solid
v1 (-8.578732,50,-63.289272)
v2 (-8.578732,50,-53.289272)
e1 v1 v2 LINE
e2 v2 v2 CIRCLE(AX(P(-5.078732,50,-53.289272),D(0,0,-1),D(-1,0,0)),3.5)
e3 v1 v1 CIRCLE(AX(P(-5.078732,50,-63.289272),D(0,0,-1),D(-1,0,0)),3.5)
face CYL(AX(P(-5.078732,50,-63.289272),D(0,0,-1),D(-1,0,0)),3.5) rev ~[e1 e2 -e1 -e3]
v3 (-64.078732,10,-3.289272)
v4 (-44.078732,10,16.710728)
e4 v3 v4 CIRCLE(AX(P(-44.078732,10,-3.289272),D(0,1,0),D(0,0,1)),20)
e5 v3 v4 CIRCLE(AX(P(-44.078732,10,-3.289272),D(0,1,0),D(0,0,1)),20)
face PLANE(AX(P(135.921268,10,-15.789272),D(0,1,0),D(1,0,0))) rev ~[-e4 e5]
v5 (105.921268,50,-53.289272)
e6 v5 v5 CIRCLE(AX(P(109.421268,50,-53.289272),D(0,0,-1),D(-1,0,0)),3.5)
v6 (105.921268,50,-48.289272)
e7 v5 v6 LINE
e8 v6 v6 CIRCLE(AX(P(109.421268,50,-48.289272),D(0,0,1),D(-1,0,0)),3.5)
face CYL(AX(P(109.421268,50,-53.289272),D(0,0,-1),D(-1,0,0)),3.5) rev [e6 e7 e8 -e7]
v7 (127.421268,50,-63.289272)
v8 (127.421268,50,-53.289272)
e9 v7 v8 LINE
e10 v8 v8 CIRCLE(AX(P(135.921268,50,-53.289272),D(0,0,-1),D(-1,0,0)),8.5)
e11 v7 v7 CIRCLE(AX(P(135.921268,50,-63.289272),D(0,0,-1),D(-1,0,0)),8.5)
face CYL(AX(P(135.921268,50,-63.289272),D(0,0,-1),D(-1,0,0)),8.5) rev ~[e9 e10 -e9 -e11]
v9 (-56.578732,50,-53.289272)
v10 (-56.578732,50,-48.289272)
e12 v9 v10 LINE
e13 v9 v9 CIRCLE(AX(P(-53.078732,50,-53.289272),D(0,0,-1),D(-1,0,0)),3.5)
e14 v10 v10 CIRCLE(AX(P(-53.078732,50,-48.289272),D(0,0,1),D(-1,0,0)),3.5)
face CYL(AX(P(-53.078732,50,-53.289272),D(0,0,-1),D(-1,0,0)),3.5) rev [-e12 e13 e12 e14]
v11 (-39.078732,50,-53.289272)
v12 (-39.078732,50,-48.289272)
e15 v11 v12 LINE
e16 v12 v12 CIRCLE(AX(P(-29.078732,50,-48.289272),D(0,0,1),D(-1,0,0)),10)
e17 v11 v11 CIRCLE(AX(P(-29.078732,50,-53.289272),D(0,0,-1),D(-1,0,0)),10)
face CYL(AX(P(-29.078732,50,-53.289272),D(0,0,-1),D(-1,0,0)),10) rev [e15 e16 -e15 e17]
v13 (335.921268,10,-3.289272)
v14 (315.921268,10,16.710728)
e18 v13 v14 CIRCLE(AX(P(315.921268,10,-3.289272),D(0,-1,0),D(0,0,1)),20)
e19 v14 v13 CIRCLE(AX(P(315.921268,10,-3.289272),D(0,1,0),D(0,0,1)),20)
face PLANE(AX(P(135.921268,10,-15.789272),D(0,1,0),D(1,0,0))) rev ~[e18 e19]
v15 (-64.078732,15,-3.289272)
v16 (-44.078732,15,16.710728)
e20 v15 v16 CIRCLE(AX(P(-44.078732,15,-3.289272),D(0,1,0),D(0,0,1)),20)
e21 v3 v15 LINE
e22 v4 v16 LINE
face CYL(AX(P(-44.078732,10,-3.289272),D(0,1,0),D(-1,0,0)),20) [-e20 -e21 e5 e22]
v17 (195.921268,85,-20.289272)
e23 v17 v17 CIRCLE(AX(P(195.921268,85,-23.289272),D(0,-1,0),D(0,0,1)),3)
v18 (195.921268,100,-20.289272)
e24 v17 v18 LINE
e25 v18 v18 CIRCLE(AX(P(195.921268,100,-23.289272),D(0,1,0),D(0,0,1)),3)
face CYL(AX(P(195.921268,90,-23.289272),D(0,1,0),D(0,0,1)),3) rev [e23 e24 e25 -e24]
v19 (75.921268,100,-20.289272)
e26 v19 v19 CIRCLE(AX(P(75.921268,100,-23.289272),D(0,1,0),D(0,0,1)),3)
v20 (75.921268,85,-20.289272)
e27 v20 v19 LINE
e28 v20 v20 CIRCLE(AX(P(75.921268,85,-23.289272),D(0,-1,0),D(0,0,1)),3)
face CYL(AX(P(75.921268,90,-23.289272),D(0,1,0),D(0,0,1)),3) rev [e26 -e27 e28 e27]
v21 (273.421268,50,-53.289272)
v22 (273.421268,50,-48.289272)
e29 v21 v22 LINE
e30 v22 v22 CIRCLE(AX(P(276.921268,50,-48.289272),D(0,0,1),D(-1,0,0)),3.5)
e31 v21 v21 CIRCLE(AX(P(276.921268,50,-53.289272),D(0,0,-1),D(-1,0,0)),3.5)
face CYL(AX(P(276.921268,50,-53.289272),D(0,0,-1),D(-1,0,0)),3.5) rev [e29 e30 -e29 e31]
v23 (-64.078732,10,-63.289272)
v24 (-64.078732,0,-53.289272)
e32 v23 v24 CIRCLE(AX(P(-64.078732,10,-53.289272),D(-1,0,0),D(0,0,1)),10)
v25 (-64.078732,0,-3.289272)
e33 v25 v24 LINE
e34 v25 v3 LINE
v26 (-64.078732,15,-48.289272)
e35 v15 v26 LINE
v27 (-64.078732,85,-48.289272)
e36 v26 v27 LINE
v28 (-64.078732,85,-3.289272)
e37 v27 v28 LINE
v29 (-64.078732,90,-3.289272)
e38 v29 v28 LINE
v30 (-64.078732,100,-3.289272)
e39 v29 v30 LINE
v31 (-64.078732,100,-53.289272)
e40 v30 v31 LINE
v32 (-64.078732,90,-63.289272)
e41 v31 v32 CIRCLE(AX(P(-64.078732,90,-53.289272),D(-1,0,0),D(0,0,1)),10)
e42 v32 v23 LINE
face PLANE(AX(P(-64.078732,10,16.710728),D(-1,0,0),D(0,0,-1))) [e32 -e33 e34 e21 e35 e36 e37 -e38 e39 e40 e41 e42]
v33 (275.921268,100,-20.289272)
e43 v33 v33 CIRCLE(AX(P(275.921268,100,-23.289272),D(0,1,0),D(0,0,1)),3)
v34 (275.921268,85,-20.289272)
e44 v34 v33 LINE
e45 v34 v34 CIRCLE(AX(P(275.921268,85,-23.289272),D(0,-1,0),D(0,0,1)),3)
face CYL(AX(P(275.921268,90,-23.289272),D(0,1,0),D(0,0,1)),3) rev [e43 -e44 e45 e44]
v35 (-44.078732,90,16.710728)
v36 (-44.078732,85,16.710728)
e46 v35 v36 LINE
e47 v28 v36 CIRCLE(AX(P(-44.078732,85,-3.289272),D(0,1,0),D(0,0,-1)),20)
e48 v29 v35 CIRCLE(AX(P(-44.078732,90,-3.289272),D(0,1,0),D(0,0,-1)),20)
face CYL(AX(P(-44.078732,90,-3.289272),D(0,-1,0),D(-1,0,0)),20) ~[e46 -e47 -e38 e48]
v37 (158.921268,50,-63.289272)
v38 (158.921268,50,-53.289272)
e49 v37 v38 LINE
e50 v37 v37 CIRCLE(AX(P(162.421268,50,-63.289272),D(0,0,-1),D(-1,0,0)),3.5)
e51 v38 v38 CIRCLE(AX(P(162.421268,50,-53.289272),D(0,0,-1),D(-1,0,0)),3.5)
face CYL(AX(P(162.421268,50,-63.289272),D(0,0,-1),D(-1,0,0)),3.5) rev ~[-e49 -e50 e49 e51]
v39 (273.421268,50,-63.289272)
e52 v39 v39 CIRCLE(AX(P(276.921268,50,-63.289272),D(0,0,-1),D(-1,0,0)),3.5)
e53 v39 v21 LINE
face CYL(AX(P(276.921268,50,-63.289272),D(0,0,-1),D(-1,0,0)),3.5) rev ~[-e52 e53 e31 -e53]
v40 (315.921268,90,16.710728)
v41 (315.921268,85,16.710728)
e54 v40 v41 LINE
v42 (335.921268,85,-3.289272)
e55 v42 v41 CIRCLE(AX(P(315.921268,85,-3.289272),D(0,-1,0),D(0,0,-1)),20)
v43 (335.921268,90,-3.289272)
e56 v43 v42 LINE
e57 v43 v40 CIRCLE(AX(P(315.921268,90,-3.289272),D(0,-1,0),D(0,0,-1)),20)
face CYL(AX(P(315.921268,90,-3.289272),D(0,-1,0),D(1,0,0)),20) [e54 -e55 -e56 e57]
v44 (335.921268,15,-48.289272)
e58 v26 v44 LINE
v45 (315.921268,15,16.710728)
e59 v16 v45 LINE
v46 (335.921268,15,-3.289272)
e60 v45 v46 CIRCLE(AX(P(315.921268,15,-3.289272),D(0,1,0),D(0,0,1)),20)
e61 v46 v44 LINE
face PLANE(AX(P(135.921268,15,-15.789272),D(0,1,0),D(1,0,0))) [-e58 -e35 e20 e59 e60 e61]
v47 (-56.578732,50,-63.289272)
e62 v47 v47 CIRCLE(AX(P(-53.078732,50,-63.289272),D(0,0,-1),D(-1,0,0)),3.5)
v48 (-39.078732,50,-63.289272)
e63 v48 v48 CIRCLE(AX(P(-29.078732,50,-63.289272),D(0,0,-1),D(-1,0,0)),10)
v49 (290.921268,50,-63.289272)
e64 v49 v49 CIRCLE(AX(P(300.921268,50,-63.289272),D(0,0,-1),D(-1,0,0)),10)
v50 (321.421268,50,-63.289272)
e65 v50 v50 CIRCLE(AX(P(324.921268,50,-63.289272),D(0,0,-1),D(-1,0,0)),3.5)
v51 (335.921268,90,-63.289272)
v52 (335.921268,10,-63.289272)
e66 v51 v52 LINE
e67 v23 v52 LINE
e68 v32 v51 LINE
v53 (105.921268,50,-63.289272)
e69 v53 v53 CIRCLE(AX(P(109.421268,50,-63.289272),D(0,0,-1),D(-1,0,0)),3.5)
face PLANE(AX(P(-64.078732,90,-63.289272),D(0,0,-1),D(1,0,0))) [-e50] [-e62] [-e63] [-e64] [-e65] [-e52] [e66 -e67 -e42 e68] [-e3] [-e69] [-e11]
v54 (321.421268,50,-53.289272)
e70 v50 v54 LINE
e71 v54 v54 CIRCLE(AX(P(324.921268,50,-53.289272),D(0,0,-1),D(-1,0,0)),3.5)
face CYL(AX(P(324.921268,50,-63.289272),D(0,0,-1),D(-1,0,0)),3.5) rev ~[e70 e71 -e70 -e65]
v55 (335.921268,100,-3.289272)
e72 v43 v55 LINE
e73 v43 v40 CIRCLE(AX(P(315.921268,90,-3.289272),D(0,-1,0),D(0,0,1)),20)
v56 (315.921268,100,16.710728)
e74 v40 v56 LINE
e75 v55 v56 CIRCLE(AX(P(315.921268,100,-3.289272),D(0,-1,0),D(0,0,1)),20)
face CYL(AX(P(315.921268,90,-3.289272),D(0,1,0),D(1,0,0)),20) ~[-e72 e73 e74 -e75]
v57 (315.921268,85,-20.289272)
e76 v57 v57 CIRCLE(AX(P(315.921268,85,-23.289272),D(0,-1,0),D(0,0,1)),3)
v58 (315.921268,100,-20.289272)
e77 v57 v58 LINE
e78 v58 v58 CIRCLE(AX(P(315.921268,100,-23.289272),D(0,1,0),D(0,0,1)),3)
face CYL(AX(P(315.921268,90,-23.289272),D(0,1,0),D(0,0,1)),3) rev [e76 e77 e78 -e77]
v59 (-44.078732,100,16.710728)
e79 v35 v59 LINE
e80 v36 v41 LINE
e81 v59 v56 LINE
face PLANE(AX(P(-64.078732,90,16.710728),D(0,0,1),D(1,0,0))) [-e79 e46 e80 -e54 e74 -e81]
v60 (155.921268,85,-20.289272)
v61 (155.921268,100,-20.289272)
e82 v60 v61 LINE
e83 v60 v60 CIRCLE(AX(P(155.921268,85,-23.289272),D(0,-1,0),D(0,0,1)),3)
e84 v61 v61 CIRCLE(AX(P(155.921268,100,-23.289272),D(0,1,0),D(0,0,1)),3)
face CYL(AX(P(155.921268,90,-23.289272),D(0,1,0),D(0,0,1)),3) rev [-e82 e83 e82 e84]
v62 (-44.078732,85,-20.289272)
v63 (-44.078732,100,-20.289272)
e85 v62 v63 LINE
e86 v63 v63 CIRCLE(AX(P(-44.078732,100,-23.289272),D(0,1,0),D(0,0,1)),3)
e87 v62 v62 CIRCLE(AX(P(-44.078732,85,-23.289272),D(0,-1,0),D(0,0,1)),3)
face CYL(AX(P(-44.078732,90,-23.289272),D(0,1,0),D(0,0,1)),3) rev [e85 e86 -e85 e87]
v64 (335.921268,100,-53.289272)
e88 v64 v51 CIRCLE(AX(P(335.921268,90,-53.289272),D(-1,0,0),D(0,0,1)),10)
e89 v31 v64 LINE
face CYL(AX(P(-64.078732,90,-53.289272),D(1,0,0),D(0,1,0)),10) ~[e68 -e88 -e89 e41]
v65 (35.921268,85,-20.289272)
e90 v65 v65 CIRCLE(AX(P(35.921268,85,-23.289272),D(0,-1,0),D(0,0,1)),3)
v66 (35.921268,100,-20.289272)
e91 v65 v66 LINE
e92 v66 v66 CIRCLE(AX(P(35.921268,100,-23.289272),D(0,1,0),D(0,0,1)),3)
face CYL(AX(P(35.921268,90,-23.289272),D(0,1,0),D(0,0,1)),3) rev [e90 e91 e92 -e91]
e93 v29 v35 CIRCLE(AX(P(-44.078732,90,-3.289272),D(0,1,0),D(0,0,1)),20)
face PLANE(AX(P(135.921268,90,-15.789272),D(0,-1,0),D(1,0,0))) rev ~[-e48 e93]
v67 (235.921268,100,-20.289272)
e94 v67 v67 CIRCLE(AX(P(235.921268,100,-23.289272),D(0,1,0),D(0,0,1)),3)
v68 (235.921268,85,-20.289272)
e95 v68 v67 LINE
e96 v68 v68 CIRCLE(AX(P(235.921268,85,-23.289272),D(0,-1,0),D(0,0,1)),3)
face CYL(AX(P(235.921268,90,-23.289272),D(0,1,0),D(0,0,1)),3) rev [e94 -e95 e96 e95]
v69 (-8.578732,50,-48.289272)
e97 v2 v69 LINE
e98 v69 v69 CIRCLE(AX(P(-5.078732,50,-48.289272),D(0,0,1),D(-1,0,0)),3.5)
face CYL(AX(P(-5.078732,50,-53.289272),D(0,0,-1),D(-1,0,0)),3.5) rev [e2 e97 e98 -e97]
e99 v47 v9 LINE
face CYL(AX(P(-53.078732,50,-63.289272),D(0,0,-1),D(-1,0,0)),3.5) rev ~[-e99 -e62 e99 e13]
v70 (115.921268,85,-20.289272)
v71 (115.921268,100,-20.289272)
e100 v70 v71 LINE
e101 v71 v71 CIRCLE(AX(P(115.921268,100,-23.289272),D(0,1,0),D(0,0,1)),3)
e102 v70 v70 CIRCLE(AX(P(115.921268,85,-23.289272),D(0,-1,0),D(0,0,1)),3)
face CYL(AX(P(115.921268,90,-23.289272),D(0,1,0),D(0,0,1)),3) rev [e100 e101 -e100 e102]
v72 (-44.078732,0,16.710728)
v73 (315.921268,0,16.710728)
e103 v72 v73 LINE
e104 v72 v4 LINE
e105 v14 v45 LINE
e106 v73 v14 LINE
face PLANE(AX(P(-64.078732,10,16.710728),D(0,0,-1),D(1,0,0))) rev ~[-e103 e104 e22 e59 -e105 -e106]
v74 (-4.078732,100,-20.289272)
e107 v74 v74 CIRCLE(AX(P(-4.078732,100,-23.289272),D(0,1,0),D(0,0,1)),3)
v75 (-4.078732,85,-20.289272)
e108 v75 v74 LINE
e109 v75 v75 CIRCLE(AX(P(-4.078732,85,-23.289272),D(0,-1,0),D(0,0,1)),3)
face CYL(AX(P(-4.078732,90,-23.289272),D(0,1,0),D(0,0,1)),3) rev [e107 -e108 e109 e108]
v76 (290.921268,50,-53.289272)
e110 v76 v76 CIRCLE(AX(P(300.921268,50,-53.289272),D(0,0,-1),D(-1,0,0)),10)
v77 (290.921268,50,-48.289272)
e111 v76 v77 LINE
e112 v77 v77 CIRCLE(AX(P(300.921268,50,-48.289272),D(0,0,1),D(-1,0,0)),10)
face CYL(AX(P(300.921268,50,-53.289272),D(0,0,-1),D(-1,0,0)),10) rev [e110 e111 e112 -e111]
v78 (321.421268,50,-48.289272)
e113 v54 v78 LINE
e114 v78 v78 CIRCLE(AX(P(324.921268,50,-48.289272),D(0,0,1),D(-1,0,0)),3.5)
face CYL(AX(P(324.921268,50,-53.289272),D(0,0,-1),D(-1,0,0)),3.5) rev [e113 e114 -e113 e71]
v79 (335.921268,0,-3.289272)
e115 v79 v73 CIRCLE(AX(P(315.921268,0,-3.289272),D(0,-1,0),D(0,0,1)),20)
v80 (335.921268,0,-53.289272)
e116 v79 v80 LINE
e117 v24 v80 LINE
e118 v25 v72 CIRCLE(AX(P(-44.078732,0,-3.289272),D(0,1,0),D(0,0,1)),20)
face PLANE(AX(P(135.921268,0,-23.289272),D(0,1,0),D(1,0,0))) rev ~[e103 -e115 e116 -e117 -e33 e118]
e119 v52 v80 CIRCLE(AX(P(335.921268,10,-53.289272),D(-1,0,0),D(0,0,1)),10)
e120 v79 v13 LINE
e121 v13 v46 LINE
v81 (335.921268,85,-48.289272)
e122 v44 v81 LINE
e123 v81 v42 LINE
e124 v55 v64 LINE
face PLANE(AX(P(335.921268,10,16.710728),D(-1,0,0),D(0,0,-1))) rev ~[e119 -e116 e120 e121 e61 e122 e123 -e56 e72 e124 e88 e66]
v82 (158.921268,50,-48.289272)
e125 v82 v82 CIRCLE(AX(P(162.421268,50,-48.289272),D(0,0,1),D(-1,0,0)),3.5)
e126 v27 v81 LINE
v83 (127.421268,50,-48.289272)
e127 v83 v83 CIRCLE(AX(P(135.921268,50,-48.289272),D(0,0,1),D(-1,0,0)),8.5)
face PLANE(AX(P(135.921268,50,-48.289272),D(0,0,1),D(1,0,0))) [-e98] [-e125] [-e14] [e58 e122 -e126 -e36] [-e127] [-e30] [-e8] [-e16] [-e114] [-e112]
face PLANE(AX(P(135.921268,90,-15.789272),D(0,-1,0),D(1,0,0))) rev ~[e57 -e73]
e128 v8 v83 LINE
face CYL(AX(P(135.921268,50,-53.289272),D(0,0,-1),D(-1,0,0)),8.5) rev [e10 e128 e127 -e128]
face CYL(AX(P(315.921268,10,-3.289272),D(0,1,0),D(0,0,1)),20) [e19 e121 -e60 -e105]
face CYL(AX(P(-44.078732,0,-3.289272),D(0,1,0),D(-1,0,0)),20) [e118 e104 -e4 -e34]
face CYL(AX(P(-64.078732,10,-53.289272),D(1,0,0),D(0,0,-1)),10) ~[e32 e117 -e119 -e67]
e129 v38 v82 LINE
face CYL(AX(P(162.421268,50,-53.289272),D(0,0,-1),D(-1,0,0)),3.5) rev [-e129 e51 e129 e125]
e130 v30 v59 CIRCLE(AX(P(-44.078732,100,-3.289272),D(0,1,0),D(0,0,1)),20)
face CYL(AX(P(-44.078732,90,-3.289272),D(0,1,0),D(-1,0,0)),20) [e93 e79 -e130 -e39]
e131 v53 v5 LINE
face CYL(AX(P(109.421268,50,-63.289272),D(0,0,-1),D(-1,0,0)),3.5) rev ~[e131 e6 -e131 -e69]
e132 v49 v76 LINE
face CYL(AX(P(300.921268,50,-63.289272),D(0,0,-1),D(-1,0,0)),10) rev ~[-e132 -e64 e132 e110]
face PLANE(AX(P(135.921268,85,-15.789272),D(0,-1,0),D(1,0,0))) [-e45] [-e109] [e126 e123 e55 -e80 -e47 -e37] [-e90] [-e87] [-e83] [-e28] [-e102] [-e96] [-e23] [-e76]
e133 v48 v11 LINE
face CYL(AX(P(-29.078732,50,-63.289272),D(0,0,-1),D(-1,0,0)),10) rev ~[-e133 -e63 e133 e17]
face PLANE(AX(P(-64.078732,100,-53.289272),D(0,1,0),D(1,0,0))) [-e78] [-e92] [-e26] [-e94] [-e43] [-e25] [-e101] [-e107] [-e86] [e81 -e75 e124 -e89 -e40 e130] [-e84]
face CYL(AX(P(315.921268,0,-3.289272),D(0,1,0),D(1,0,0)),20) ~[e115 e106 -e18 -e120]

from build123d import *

# Parameters (mm, degrees)
SKETCH1_W           = 400
SKETCH1_H           = 80
BOSS_EXTRUDE1_DEPTH = 10
SKETCH2_W           = 400
SKETCH2_H           = 10
BOSS_EXTRUDE2_DEPTH = 80
SKETCH3_W           = 400
SKETCH3_H           = 10
BOSS_EXTRUDE3_DEPTH = 10
SKETCH4_W           = 400
SKETCH4_H           = 10
BOSS_EXTRUDE4_DEPTH = 70
FILLET1_R           = 20
FILLET2_R           = 10
SKETCH7_R           = 8.5
SKETCH7_R_2         = 3.5
SKETCH7_R_3         = 10
CUT_EXTRUDE1_DEPTH  = 10
CUT_EXTRUDE2_REACH  = 358.158
SKETCH8_R           = 3
SKETCH9_W           = 400
SKETCH9_H           = 80
SKETCH9_R           = 10
SKETCH9_R_2         = 3.5
SKETCH9_R_3         = 8.5
BOSS_EXTRUDE5_DEPTH = 5
SKETCH10_W          = 400
SKETCH10_H          = 65
SKETCH10_R          = 3
BOSS_EXTRUDE6_DEPTH = 5
SKETCH11_W          = 400
SKETCH11_H          = 65
BOSS_EXTRUDE7_DEPTH = 5
FILLET3_R           = 20


with BuildPart() as part:
    # Sketch1 → Boss-Extrude1 (new body)
    with BuildSketch(Plane(origin=(0, 0, 0), x_dir=(1, 0, 0), z_dir=(0, 1, 0))):
        with Locations((135.921268108, 23.289271879)):
            Rectangle(SKETCH1_W, SKETCH1_H)
    extrude(amount=BOSS_EXTRUDE1_DEPTH)

    # Sketch2 → Boss-Extrude2 (add)
    with BuildSketch(Plane(origin=(0, 10, 0), x_dir=(1, 0, 0), z_dir=(0, 1, 0))):
        with Locations((135.921268108, 58.289271879)):
            Rectangle(SKETCH2_W, SKETCH2_H)
    extrude(amount=BOSS_EXTRUDE2_DEPTH)

    # Sketch3 → Boss-Extrude3 (add)
    with BuildSketch(Plane(origin=(0, 90, 0), x_dir=(1, 0, 0), z_dir=(0, 1, 0))):
        with Locations((135.921268108, 58.289271879)):
            Rectangle(SKETCH3_W, SKETCH3_H)
    extrude(amount=BOSS_EXTRUDE3_DEPTH)

    # Sketch4 → Boss-Extrude4 (add)
    with BuildSketch(Plane.XY.offset(-53.289271879)):
        with Locations((135.921268108, 95)):
            Rectangle(SKETCH4_W, SKETCH4_H)
    extrude(amount=BOSS_EXTRUDE4_DEPTH)

    # Fillet1
    fillet1_edges = [part.edges().sort_by_distance(p)[0] for p in [
        (-64.078731892, 95, 16.710728121),
        (335.921268108, 95, 16.710728121),
        (-64.078731892, 5, 16.710728121),
        (335.921268108, 5, 16.710728121),
    ]]
    fillet(fillet1_edges, radius=FILLET1_R)

    # Fillet2
    fillet2_edges = [part.edges().sort_by_distance(p)[0] for p in [
        (135.921268108, 100, -63.289271879),
        (135.921268108, 0, -63.289271879),
    ]]
    fillet(fillet2_edges, radius=FILLET2_R)

    # Sketch7 → Cut-Extrude1 (cut)
    with BuildSketch(Plane(origin=(0, 0, -63.289271879), x_dir=(-1, 0, 0), z_dir=(0, 0, -1))):
        with Locations((-135.921268108, 50)):
            Circle(SKETCH7_R)
        with Locations((-109.421268108, 50)):
            Circle(SKETCH7_R_2)
        with Locations((-162.421268108, 50)):
            Circle(SKETCH7_R_2)
        with Locations((-324.921268108, 50)):
            Circle(SKETCH7_R_2)
        with Locations((-300.921268108, 50)):
            Circle(SKETCH7_R_3)
        with Locations((-276.921268108, 50)):
            Circle(SKETCH7_R_2)
        with Locations((53.078731892, 50)):
            Circle(SKETCH7_R_2)
        with Locations((29.078731892, 50)):
            Circle(SKETCH7_R_3)
        with Locations((5.078731892, 50)):
            Circle(SKETCH7_R_2)
    extrude(amount=-CUT_EXTRUDE1_DEPTH, mode=Mode.SUBTRACT)

    # Sketch8 → Cut-Extrude2 (cut, up to next)
    with BuildSketch(Plane(origin=(0, 100, 0), x_dir=(1, 0, 0), z_dir=(0, 1, 0)), mode=Mode.PRIVATE) as cut_extrude2_sk1:
        with Locations(Location((-44.078731892, 23.289271879, 0), (0, 0, 270))):
            Circle(SKETCH8_R)
    cut_extrude2_tool1 = extrude(cut_extrude2_sk1.sketch, amount=-CUT_EXTRUDE2_REACH, mode=Mode.PRIVATE) & part.part
    # Sketch8 → Cut-Extrude2 (cut, up to next)
    with BuildSketch(Plane(origin=(0, 100, 0), x_dir=(1, 0, 0), z_dir=(0, 1, 0)), mode=Mode.PRIVATE) as cut_extrude2_sk2:
        with Locations(Location((-4.078731892, 23.289271879, 0), (0, 0, 270))):
            Circle(SKETCH8_R)
    cut_extrude2_tool2 = extrude(cut_extrude2_sk2.sketch, amount=-CUT_EXTRUDE2_REACH, mode=Mode.PRIVATE) & part.part
    # Sketch8 → Cut-Extrude2 (cut, up to next)
    with BuildSketch(Plane(origin=(0, 100, 0), x_dir=(1, 0, 0), z_dir=(0, 1, 0)), mode=Mode.PRIVATE) as cut_extrude2_sk3:
        with Locations(Location((35.921268108, 23.289271879, 0), (0, 0, 270))):
            Circle(SKETCH8_R)
    cut_extrude2_tool3 = extrude(cut_extrude2_sk3.sketch, amount=-CUT_EXTRUDE2_REACH, mode=Mode.PRIVATE) & part.part
    # Sketch8 → Cut-Extrude2 (cut, up to next)
    with BuildSketch(Plane(origin=(0, 100, 0), x_dir=(1, 0, 0), z_dir=(0, 1, 0)), mode=Mode.PRIVATE) as cut_extrude2_sk4:
        with Locations(Location((75.921268108, 23.289271879, 0), (0, 0, 270))):
            Circle(SKETCH8_R)
    cut_extrude2_tool4 = extrude(cut_extrude2_sk4.sketch, amount=-CUT_EXTRUDE2_REACH, mode=Mode.PRIVATE) & part.part
    # Sketch8 → Cut-Extrude2 (cut, up to next)
    with BuildSketch(Plane(origin=(0, 100, 0), x_dir=(1, 0, 0), z_dir=(0, 1, 0)), mode=Mode.PRIVATE) as cut_extrude2_sk5:
        with Locations(Location((115.921268108, 23.289271879, 0), (0, 0, 270))):
            Circle(SKETCH8_R)
    cut_extrude2_tool5 = extrude(cut_extrude2_sk5.sketch, amount=-CUT_EXTRUDE2_REACH, mode=Mode.PRIVATE) & part.part
    # Sketch8 → Cut-Extrude2 (cut, up to next)
    with BuildSketch(Plane(origin=(0, 100, 0), x_dir=(1, 0, 0), z_dir=(0, 1, 0)), mode=Mode.PRIVATE) as cut_extrude2_sk6:
        with Locations(Location((155.921268108, 23.289271879, 0), (0, 0, 270))):
            Circle(SKETCH8_R)
    cut_extrude2_tool6 = extrude(cut_extrude2_sk6.sketch, amount=-CUT_EXTRUDE2_REACH, mode=Mode.PRIVATE) & part.part
    # Sketch8 → Cut-Extrude2 (cut, up to next)
    with BuildSketch(Plane(origin=(0, 100, 0), x_dir=(1, 0, 0), z_dir=(0, 1, 0)), mode=Mode.PRIVATE) as cut_extrude2_sk7:
        with Locations(Location((195.921268108, 23.289271879, 0), (0, 0, 270))):
            Circle(SKETCH8_R)
    cut_extrude2_tool7 = extrude(cut_extrude2_sk7.sketch, amount=-CUT_EXTRUDE2_REACH, mode=Mode.PRIVATE) & part.part
    # Sketch8 → Cut-Extrude2 (cut, up to next)
    with BuildSketch(Plane(origin=(0, 100, 0), x_dir=(1, 0, 0), z_dir=(0, 1, 0)), mode=Mode.PRIVATE) as cut_extrude2_sk8:
        with Locations(Location((235.921268108, 23.289271879, 0), (0, 0, 270))):
            Circle(SKETCH8_R)
    cut_extrude2_tool8 = extrude(cut_extrude2_sk8.sketch, amount=-CUT_EXTRUDE2_REACH, mode=Mode.PRIVATE) & part.part
    # Sketch8 → Cut-Extrude2 (cut, up to next)
    with BuildSketch(Plane(origin=(0, 100, 0), x_dir=(1, 0, 0), z_dir=(0, 1, 0)), mode=Mode.PRIVATE) as cut_extrude2_sk9:
        with Locations(Location((275.921268108, 23.289271879, 0), (0, 0, 270))):
            Circle(SKETCH8_R)
    cut_extrude2_tool9 = extrude(cut_extrude2_sk9.sketch, amount=-CUT_EXTRUDE2_REACH, mode=Mode.PRIVATE) & part.part
    # Sketch8 → Cut-Extrude2 (cut, up to next)
    with BuildSketch(Plane(origin=(0, 100, 0), x_dir=(1, 0, 0), z_dir=(0, 1, 0)), mode=Mode.PRIVATE) as cut_extrude2_sk10:
        with Locations(Location((315.921268108, 23.289271879, 0), (0, 0, 270))):
            Circle(SKETCH8_R)
    cut_extrude2_tool10 = extrude(cut_extrude2_sk10.sketch, amount=-CUT_EXTRUDE2_REACH, mode=Mode.PRIVATE) & part.part
    add(cut_extrude2_tool1.solids().sort_by_distance((-44.078732, 100, -23.289272))[0], mode=Mode.SUBTRACT)
    add(cut_extrude2_tool2.solids().sort_by_distance((-4.078732, 100, -23.289272))[0], mode=Mode.SUBTRACT)
    add(cut_extrude2_tool3.solids().sort_by_distance((35.921268, 100, -23.289272))[0], mode=Mode.SUBTRACT)
    add(cut_extrude2_tool4.solids().sort_by_distance((75.921268, 100, -23.289272))[0], mode=Mode.SUBTRACT)
    add(cut_extrude2_tool5.solids().sort_by_distance((115.921268, 100, -23.289272))[0], mode=Mode.SUBTRACT)
    add(cut_extrude2_tool6.solids().sort_by_distance((155.921268, 100, -23.289272))[0], mode=Mode.SUBTRACT)
    add(cut_extrude2_tool7.solids().sort_by_distance((195.921268, 100, -23.289272))[0], mode=Mode.SUBTRACT)
    add(cut_extrude2_tool8.solids().sort_by_distance((235.921268, 100, -23.289272))[0], mode=Mode.SUBTRACT)
    add(cut_extrude2_tool9.solids().sort_by_distance((275.921268, 100, -23.289272))[0], mode=Mode.SUBTRACT)
    add(cut_extrude2_tool10.solids().sort_by_distance((315.921268, 100, -23.289272))[0], mode=Mode.SUBTRACT)

    # Sketch9 → Boss-Extrude5 (add)
    with BuildSketch(Plane.XY.offset(-53.289271879)):
        with Locations((135.921268108, 50)):
            Rectangle(SKETCH9_W, SKETCH9_H)
        with Locations(Location((-29.078731892, 50, 0), (0, 0, 180))):
            Circle(SKETCH9_R, mode=Mode.SUBTRACT)
        with Locations(Location((-5.078731892, 50, 0), (0, 0, 180))):
            Circle(SKETCH9_R_2, mode=Mode.SUBTRACT)
        with Locations(Location((-53.078731892, 50, 0), (0, 0, 180))):
            Circle(SKETCH9_R_2, mode=Mode.SUBTRACT)
        with Locations(Location((135.921268108, 50, 0), (0, 0, 180))):
            Circle(SKETCH9_R_3, mode=Mode.SUBTRACT)
        with Locations(Location((109.421268108, 50, 0), (0, 0, 180))):
            Circle(SKETCH9_R_2, mode=Mode.SUBTRACT)
        with Locations(Location((162.421268108, 50, 0), (0, 0, 180))):
            Circle(SKETCH9_R_2, mode=Mode.SUBTRACT)
        with Locations(Location((300.921268108, 50, 0), (0, 0, 180))):
            Circle(SKETCH9_R, mode=Mode.SUBTRACT)
        with Locations(Location((324.921268108, 50, 0), (0, 0, 180))):
            Circle(SKETCH9_R_2, mode=Mode.SUBTRACT)
        with Locations(Location((276.921268108, 50, 0), (0, 0, 180))):
            Circle(SKETCH9_R_2, mode=Mode.SUBTRACT)
    extrude(amount=BOSS_EXTRUDE5_DEPTH)

    # Sketch10 → Boss-Extrude6 (add)
    with BuildSketch(Plane.XZ.offset(-90)):
        with Locations((135.921268108, -15.789271879)):
            Rectangle(SKETCH10_W, SKETCH10_H)
        with Locations(Location((-44.078731892, -23.289271879, 0), (0, 0, 90))):
            Circle(SKETCH10_R, mode=Mode.SUBTRACT)
        with Locations(Location((-4.078731892, -23.289271879, 0), (0, 0, 90))):
            Circle(SKETCH10_R, mode=Mode.SUBTRACT)
        with Locations(Location((35.921268108, -23.289271879, 0), (0, 0, 90))):
            Circle(SKETCH10_R, mode=Mode.SUBTRACT)
        with Locations(Location((75.921268108, -23.289271879, 0), (0, 0, 90))):
            Circle(SKETCH10_R, mode=Mode.SUBTRACT)
        with Locations(Location((115.921268108, -23.289271879, 0), (0, 0, 90))):
            Circle(SKETCH10_R, mode=Mode.SUBTRACT)
        with Locations(Location((155.921268108, -23.289271879, 0), (0, 0, 90))):
            Circle(SKETCH10_R, mode=Mode.SUBTRACT)
        with Locations(Location((195.921268108, -23.289271879, 0), (0, 0, 90))):
            Circle(SKETCH10_R, mode=Mode.SUBTRACT)
        with Locations(Location((235.921268108, -23.289271879, 0), (0, 0, 90))):
            Circle(SKETCH10_R, mode=Mode.SUBTRACT)
        with Locations(Location((275.921268108, -23.289271879, 0), (0, 0, 90))):
            Circle(SKETCH10_R, mode=Mode.SUBTRACT)
        with Locations(Location((315.921268108, -23.289271879, 0), (0, 0, 90))):
            Circle(SKETCH10_R, mode=Mode.SUBTRACT)
    extrude(amount=BOSS_EXTRUDE6_DEPTH)

    # Sketch11 → Boss-Extrude7 (add)
    with BuildSketch(Plane(origin=(0, 10, 0), x_dir=(1, 0, 0), z_dir=(0, 1, 0))):
        with Locations((135.921268108, 15.789271879)):
            Rectangle(SKETCH11_W, SKETCH11_H)
    extrude(amount=BOSS_EXTRUDE7_DEPTH)

    # Fillet3
    fillet3_edges = [part.edges().sort_by_distance(p)[0] for p in [
        (335.921268108, 12.5, 16.710728121),
        (335.921268108, 87.5, 16.710728121),
        (-64.078731892, 12.5, 16.710728121),
        (-64.078731892, 87.5, 16.710728121),
    ]]
    fillet(fillet3_edges, radius=FILLET3_R)


solid = part.part
